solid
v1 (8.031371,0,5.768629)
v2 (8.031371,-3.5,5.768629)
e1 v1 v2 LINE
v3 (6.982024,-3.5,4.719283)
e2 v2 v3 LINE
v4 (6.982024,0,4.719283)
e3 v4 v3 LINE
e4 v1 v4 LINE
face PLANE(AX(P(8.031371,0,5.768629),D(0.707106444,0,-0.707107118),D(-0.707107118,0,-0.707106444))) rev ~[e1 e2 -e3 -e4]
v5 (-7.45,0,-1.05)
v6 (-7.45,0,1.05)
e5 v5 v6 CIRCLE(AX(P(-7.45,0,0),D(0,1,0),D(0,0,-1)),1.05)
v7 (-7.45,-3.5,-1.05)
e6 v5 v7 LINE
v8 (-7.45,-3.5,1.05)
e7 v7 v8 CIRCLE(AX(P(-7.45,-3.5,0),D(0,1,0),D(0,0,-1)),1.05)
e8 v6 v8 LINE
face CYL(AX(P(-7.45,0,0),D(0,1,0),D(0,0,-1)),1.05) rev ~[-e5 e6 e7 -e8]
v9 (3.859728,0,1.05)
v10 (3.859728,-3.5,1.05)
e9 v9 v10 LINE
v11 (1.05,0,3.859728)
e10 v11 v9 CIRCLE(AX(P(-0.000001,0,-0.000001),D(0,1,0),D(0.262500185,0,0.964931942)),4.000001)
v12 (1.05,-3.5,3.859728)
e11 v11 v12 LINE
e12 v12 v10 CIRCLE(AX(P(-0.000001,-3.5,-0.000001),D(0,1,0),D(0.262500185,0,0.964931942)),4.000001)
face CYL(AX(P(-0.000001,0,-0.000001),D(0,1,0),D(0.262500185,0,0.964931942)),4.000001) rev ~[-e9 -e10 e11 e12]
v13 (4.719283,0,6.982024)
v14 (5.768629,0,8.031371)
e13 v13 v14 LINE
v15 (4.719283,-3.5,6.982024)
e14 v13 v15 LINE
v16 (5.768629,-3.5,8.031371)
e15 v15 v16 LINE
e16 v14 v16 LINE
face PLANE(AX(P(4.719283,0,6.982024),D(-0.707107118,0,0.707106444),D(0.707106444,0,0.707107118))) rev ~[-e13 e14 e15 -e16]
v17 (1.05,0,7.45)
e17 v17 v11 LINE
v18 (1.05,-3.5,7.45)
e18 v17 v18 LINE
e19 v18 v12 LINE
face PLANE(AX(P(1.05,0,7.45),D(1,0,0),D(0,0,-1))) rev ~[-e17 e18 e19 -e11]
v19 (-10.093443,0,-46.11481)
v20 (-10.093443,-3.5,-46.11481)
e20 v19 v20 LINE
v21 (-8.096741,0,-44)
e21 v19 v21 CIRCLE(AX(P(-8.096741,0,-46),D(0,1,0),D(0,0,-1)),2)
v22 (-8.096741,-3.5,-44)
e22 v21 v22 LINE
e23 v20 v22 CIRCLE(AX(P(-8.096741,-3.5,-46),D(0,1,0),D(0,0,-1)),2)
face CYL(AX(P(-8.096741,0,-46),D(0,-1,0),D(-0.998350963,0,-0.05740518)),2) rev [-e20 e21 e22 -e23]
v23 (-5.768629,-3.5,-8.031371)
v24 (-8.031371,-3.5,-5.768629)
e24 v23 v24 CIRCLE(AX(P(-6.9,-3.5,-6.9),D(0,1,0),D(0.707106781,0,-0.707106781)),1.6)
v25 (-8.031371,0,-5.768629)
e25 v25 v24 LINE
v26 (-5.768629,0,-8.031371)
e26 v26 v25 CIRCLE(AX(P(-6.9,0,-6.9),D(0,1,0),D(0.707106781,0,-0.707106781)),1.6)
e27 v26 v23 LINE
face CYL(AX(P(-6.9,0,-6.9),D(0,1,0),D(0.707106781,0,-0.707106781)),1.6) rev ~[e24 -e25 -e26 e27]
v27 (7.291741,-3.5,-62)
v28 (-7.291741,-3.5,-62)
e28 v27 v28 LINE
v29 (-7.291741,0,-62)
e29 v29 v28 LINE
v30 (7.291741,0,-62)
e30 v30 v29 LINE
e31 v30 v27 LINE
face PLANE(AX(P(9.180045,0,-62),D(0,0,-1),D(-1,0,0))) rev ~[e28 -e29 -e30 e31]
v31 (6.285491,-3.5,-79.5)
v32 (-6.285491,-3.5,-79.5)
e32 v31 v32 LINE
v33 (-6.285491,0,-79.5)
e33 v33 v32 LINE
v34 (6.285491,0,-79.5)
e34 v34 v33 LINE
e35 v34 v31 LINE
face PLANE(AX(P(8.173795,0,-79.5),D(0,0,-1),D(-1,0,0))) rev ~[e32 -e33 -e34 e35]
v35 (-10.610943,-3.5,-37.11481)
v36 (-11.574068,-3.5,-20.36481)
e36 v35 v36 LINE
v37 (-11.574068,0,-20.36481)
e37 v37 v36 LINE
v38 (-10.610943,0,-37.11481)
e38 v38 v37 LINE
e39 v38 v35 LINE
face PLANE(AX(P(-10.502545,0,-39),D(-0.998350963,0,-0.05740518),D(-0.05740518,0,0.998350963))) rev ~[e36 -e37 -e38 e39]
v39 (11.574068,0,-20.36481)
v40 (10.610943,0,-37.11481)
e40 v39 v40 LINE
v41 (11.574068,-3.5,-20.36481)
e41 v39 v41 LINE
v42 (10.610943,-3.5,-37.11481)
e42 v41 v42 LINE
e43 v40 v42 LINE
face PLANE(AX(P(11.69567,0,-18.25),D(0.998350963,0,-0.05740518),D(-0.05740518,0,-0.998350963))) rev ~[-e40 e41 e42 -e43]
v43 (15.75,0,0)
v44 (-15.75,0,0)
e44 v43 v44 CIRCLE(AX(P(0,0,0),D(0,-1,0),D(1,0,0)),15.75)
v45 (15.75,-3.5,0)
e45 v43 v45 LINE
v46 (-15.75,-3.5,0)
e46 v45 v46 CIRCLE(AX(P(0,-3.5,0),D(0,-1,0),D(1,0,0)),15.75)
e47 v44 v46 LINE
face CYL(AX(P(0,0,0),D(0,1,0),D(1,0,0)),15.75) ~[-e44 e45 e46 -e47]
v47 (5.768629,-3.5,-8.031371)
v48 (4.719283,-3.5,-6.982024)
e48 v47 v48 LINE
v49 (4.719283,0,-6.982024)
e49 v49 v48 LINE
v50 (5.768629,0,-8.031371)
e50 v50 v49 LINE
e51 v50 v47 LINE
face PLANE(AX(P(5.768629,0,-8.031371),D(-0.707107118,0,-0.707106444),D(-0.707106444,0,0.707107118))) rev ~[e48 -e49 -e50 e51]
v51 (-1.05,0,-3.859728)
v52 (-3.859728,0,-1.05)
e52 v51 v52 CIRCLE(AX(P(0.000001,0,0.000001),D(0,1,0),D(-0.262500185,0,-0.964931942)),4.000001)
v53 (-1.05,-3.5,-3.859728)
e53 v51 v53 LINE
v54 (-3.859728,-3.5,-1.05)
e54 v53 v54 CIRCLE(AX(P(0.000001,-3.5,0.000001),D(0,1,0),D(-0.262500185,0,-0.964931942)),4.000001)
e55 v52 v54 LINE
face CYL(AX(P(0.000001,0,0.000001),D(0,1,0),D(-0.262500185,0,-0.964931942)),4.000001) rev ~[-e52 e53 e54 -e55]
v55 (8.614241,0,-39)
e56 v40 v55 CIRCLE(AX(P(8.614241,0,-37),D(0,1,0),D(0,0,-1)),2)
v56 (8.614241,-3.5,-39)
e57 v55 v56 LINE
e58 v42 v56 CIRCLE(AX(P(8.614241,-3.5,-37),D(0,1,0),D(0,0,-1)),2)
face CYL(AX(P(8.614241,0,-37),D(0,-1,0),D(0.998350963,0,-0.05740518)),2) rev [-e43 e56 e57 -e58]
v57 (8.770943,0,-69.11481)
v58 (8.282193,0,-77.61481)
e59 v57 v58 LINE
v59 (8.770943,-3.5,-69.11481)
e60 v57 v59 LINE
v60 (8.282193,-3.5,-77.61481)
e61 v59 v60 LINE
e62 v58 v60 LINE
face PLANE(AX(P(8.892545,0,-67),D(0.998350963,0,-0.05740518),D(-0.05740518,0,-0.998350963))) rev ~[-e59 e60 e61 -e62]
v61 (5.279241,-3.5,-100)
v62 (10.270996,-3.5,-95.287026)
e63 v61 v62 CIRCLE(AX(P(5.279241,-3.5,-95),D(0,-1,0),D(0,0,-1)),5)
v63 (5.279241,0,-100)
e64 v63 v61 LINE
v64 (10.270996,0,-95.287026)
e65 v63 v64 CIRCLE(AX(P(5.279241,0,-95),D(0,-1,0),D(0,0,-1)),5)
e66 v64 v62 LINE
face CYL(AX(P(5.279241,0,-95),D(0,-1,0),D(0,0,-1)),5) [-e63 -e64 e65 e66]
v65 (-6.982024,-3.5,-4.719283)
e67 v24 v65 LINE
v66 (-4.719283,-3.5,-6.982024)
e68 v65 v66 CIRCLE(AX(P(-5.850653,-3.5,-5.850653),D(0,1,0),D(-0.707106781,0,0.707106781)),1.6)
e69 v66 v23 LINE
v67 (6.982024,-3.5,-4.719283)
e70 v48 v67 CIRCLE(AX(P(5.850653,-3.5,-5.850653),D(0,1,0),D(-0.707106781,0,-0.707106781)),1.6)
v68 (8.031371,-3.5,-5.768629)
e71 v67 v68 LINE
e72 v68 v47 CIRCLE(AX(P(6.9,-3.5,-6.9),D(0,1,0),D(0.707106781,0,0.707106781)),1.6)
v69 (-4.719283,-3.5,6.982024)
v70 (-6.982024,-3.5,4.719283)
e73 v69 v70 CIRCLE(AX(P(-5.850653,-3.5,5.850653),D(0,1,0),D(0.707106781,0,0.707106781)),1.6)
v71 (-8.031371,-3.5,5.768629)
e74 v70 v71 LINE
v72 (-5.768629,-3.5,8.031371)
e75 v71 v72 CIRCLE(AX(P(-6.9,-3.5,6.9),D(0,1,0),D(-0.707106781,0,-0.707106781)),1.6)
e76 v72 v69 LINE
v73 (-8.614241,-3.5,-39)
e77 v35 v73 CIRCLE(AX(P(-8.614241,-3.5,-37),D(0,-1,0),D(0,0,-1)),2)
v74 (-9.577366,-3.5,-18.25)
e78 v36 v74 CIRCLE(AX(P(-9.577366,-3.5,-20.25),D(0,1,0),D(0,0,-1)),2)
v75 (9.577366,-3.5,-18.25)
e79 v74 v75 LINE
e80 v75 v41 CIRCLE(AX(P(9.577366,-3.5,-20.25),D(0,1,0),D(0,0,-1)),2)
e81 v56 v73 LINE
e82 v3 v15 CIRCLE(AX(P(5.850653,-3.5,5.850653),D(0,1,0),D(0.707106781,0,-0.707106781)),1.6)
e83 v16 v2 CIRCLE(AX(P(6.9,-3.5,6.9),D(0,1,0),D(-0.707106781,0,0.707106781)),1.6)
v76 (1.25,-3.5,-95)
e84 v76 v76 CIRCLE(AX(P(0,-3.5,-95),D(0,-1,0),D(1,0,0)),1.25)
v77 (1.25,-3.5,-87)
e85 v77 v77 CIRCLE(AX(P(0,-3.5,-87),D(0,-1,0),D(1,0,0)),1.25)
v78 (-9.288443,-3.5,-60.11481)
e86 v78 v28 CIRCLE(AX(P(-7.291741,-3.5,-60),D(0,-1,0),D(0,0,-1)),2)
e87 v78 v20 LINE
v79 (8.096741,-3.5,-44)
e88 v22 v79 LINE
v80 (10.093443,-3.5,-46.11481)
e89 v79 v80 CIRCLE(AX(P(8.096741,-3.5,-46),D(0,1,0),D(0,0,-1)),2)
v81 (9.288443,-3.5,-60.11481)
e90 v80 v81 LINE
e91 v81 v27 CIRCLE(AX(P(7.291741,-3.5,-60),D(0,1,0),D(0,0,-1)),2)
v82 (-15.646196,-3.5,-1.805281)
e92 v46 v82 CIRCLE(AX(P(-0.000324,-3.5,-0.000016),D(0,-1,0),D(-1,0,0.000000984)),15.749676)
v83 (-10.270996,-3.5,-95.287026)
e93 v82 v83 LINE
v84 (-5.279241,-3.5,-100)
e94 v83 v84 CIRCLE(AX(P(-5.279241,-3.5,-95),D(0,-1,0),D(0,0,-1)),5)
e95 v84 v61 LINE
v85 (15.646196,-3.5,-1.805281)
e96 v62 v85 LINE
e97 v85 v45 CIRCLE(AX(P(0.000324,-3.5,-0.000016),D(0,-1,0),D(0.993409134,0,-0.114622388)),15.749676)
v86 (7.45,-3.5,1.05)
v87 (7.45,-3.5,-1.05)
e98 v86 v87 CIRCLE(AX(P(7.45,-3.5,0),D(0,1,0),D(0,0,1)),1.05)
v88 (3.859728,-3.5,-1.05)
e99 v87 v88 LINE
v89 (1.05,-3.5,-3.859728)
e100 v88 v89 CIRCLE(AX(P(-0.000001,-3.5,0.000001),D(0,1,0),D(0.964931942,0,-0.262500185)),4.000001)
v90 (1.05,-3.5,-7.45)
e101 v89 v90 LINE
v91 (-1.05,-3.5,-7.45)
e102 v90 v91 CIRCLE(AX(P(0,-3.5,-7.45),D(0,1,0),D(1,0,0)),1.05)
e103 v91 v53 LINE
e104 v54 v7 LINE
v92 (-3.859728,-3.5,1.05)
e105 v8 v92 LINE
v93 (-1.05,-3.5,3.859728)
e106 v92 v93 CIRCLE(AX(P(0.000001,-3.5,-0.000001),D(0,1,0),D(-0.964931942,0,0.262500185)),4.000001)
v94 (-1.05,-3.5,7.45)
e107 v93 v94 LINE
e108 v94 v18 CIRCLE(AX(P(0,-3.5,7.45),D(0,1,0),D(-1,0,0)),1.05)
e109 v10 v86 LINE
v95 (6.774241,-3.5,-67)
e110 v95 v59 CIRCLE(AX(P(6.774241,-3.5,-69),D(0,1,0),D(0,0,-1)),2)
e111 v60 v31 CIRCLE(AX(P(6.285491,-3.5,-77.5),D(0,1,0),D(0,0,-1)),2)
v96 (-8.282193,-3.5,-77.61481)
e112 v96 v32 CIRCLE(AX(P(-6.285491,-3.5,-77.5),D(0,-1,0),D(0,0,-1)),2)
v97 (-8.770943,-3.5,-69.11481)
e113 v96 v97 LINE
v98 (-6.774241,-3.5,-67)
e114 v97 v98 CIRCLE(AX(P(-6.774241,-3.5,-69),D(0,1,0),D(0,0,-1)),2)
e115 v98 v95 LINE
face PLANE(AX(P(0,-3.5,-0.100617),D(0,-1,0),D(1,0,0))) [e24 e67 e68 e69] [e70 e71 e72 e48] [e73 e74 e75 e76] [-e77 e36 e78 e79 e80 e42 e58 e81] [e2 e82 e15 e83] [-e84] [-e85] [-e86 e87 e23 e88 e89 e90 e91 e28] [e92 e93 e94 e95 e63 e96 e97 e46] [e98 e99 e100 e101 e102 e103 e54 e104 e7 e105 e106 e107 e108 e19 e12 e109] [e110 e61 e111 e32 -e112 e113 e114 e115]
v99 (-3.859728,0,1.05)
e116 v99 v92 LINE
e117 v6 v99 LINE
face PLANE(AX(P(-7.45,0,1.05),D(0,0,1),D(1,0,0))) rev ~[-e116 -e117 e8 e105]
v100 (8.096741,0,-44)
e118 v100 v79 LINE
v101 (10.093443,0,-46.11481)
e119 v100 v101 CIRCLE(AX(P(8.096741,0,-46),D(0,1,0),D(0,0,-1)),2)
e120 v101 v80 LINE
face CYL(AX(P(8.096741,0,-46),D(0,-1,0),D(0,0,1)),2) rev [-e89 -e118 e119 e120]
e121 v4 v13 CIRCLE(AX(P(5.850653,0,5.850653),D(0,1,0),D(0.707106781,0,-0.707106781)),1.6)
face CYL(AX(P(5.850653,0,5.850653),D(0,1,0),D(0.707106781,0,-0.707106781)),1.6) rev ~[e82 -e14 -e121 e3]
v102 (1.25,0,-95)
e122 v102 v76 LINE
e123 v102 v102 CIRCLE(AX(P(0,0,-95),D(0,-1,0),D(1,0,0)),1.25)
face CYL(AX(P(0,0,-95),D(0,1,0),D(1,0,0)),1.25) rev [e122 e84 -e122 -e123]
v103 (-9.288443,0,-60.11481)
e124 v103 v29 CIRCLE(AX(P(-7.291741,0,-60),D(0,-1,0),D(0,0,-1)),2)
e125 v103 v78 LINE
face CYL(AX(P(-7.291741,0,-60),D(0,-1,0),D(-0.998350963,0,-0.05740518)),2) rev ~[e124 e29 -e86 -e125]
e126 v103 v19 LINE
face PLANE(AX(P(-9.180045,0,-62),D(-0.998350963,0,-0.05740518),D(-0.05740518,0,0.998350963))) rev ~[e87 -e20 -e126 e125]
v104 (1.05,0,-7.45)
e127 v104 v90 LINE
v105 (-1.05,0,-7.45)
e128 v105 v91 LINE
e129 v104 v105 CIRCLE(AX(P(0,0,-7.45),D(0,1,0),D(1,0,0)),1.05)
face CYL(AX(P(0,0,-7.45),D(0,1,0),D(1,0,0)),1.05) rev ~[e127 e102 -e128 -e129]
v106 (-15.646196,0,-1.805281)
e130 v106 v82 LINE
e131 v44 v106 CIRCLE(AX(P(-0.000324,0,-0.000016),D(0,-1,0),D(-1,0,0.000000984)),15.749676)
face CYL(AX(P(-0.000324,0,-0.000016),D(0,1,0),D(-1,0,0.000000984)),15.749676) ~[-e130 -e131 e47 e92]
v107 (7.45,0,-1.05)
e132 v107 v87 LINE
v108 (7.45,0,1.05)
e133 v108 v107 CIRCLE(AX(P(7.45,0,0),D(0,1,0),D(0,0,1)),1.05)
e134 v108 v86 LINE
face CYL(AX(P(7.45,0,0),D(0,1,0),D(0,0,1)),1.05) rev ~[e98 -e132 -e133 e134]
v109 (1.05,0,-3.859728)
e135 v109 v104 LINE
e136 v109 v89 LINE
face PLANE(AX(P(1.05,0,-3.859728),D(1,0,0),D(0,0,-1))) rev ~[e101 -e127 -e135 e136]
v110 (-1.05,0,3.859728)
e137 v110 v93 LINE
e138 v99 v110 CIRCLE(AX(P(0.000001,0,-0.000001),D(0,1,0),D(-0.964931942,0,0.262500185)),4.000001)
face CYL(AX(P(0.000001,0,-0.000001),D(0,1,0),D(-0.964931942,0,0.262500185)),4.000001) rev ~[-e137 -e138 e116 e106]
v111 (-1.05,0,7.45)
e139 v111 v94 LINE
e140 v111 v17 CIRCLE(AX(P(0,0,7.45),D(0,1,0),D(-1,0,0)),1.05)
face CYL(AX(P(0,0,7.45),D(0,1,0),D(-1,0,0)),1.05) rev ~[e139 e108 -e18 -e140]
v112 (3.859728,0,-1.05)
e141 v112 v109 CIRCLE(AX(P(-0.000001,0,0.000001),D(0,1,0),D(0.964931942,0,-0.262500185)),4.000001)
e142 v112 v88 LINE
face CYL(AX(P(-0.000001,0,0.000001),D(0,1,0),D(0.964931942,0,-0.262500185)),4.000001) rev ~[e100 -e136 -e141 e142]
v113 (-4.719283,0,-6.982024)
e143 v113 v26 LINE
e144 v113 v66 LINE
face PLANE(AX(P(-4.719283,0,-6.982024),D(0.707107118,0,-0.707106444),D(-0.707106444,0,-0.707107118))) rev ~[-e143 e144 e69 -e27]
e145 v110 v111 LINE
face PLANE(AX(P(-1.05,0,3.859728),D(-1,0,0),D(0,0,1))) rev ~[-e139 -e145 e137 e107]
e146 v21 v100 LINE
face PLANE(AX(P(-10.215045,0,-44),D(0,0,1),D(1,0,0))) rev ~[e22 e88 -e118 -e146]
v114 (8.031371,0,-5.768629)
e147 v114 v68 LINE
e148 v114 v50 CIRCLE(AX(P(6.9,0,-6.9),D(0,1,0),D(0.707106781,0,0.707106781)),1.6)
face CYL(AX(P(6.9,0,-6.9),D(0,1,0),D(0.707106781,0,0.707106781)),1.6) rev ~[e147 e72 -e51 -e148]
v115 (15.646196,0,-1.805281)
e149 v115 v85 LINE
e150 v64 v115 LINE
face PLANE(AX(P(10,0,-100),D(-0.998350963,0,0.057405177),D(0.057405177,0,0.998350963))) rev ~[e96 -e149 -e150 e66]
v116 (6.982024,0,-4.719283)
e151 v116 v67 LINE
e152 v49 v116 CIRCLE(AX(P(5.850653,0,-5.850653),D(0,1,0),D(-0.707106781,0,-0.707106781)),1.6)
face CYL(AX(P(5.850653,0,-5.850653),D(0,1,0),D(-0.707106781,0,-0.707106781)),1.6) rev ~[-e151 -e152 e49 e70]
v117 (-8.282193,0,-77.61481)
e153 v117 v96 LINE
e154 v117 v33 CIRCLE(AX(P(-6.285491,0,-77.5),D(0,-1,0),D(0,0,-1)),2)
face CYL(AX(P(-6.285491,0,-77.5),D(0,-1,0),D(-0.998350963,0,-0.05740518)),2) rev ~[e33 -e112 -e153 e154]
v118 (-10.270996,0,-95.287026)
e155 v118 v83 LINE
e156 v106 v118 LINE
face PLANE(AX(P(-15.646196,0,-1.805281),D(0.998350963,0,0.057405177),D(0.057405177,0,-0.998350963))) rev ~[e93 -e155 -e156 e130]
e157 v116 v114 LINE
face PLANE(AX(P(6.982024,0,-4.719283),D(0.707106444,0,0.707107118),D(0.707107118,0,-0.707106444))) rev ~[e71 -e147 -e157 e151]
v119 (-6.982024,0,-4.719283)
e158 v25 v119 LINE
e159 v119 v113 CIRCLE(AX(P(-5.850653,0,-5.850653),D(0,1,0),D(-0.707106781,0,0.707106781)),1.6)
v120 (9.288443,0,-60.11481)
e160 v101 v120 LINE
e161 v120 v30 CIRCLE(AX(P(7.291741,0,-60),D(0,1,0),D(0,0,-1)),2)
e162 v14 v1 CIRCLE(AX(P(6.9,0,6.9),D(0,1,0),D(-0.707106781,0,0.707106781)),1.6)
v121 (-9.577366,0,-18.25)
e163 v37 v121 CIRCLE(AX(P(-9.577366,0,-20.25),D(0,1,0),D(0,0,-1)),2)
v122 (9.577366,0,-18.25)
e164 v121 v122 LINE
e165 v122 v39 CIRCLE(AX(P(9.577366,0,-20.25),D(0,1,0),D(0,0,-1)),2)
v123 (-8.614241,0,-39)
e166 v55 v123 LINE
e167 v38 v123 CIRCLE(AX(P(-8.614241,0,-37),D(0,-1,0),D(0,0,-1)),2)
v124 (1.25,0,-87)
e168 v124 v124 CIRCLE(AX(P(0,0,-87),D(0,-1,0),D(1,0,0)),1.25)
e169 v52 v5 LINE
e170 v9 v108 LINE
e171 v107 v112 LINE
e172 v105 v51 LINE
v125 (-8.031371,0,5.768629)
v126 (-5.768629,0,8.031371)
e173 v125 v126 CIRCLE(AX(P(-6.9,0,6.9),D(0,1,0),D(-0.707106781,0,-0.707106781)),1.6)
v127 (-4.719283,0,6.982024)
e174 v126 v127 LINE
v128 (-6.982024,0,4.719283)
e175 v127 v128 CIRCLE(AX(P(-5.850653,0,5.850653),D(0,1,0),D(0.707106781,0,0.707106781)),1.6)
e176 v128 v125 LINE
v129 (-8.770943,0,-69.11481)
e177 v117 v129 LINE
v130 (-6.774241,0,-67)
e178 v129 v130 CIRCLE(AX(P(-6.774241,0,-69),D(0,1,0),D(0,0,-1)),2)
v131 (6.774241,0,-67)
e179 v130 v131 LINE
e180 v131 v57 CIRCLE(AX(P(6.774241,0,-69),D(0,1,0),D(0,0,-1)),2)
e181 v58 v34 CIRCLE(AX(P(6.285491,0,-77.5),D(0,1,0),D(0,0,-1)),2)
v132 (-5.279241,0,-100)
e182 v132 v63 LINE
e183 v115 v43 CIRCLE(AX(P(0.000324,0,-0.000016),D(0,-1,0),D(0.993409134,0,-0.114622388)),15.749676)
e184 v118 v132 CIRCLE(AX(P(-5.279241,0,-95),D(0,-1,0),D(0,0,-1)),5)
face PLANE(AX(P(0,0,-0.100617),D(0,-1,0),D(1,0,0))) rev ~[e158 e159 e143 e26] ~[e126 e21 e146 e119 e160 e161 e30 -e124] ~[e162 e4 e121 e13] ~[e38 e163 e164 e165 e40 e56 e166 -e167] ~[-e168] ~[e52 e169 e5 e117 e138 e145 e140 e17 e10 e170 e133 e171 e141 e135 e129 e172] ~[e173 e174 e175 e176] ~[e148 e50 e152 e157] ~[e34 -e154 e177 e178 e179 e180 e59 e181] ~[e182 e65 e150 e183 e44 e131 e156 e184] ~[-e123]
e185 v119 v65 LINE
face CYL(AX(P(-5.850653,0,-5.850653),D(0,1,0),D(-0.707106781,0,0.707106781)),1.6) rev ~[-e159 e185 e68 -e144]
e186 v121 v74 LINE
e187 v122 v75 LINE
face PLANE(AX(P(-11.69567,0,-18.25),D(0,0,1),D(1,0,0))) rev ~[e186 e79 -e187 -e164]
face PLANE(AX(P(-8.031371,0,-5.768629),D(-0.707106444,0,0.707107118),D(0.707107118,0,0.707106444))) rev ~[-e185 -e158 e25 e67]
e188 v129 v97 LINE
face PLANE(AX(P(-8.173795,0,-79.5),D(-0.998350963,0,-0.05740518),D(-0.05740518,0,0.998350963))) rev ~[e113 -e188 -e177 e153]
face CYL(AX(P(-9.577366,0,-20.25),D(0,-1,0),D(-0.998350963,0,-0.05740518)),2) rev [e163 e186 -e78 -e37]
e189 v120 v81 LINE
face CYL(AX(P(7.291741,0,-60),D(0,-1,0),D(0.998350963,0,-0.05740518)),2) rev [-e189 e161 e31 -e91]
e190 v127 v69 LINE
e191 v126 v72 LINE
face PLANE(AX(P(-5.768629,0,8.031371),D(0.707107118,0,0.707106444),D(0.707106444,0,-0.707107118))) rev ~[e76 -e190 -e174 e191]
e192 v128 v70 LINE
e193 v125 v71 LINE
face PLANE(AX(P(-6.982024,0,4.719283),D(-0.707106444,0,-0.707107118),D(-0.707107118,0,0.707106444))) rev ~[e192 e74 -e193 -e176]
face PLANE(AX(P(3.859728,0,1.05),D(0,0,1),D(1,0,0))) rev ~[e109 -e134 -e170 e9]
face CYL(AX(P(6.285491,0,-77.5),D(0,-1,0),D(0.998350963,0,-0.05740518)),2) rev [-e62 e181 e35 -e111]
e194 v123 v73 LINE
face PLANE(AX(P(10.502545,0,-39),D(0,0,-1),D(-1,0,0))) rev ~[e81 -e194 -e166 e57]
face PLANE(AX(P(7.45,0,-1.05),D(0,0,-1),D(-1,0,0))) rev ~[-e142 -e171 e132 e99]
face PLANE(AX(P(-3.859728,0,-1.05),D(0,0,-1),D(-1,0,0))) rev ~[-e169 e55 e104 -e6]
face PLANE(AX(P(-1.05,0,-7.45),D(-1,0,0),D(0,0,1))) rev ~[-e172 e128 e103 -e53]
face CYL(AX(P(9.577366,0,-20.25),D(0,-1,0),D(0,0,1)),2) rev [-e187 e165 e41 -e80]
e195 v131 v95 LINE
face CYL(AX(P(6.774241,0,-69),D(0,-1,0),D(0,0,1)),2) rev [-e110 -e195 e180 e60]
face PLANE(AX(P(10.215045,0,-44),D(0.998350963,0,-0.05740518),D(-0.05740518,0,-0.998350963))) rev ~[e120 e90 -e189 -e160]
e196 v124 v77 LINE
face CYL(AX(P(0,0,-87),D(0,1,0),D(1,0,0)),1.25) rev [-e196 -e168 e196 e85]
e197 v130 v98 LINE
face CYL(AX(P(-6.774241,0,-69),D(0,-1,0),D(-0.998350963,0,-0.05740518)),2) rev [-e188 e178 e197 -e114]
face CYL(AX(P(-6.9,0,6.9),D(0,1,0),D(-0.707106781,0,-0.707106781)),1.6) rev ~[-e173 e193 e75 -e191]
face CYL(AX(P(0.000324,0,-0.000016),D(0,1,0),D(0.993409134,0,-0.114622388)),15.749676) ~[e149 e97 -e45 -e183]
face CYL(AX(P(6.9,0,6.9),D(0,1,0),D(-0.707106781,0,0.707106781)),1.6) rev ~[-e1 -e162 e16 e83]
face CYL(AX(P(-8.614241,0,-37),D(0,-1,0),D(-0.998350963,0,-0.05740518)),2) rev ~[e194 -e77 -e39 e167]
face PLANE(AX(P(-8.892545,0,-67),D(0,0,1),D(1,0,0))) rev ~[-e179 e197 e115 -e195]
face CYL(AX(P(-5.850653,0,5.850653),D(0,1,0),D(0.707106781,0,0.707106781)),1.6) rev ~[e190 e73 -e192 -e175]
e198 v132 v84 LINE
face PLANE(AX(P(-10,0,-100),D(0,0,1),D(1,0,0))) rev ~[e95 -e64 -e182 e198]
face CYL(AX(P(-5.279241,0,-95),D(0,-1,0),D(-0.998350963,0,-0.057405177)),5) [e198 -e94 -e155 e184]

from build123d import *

# Parameters (mm, degrees)
F0_R     = 1.25
F1_DEPTH = 3.5
F2_R     = 5
F3_R     = 2


with BuildPart() as f1:
    # F0 (on Front) → F1 (new body)
    with BuildSketch(Plane.XZ):
        with BuildLine():
            Line((15.646196, -1.805281), (15.75, 0))
            ThreePointArc((15.75, 0), (0, 15.75), (-15.75, 0))
            Line((-15.75, 0), (-15.646196, -1.805281))
            ThreePointArc((-15.646196, -1.805281), (0, -15.75), (15.646196, -1.805281))
        make_face()
        with BuildLine():
            ThreePointArc((-5.768629, -8.031371), (-8.031371, -8.031371), (-8.031371, -5.768629))
            Line((-8.031371, -5.768629), (-6.982024, -4.719283))
            ThreePointArc((-6.982024, -4.719283), (-4.719283, -4.719283), (-4.719283, -6.982024))
            Line((-4.719283, -6.982024), (-5.768629, -8.031371))
        make_face(mode=Mode.SUBTRACT)
        with BuildLine():
            ThreePointArc((-8.031371, 5.768629), (-8.031371, 8.031371), (-5.768629, 8.031371))
            Line((-5.768629, 8.031371), (-4.719283, 6.982024))
            ThreePointArc((-4.719283, 6.982024), (-4.719283, 4.719283), (-6.982024, 4.719283))
            Line((-6.982024, 4.719283), (-8.031371, 5.768629))
        make_face(mode=Mode.SUBTRACT)
        with BuildLine():
            Line((3.859728, 1.05), (7.45, 1.05))
            ThreePointArc((7.45, 1.05), (8.5, 0), (7.45, -1.05))
            Line((7.45, -1.05), (3.859728, -1.05))
            ThreePointArc((3.859728, -1.05), (2.828427, -2.828427), (1.05, -3.859728))
            Line((1.05, -3.859728), (1.05, -7.45))
            ThreePointArc((1.05, -7.45), (0, -8.5), (-1.05, -7.45))
            Line((-1.05, -7.45), (-1.05, -3.859728))
            ThreePointArc((-1.05, -3.859728), (-2.828427, -2.828427), (-3.859728, -1.05))
            Line((-3.859728, -1.05), (-7.45, -1.05))
            ThreePointArc((-7.45, -1.05), (-8.5, 0), (-7.45, 1.05))
            Line((-7.45, 1.05), (-3.859728, 1.05))
            ThreePointArc((-3.859728, 1.05), (-2.828427, 2.828427), (-1.05, 3.859728))
            Line((-1.05, 3.859728), (-1.05, 7.45))
            ThreePointArc((-1.05, 7.45), (0, 8.5), (1.05, 7.45))
            Line((1.05, 7.45), (1.05, 3.859728))
            ThreePointArc((1.05, 3.859728), (2.828427, 2.828427), (3.859728, 1.05))
        make_face(mode=Mode.SUBTRACT)
        with BuildLine():
            ThreePointArc((8.031371, -5.768629), (8.031371, -8.031371), (5.768629, -8.031371))
            Line((5.768629, -8.031371), (4.719283, -6.982024))
            ThreePointArc((4.719283, -6.982024), (4.719283, -4.719283), (6.982024, -4.719283))
            Line((6.982024, -4.719283), (8.031371, -5.768629))
        make_face(mode=Mode.SUBTRACT)
        with BuildLine():
            ThreePointArc((6.982024, 4.719283), (4.719283, 4.719283), (4.719283, 6.982024))
            Line((4.719283, 6.982024), (5.768629, 8.031371))
            ThreePointArc((5.768629, 8.031371), (8.031371, 8.031371), (8.031371, 5.768629))
            Line((8.031371, 5.768629), (6.982024, 4.719283))
        make_face(mode=Mode.SUBTRACT)
        with BuildLine():
            ThreePointArc((15.646196, -1.805281), (15.724028, -0.904132), (15.75, 0))
            Line((15.75, 0), (15.646196, -1.805281))
        make_face()
        with BuildLine():
            Line((-15.646196, -1.805281), (-15.75, 0))
            ThreePointArc((-15.75, 0), (-15.724028, -0.904132), (-15.646196, -1.805281))
        make_face()
        with BuildLine():
            Line((10, -100), (15.646196, -1.805281))
            ThreePointArc((15.646196, -1.805281), (0, -15.75), (-15.646196, -1.805281))
            Line((-15.646196, -1.805281), (-10, -100))
            Line((-10, -100), (0, -100))
            Line((0, -100), (10, -100))
        make_face()
        with Locations((0, -95)):
            Circle(F0_R, mode=Mode.SUBTRACT)
        with Locations((0, -87)):
            Circle(F0_R, mode=Mode.SUBTRACT)
        Polygon((-8.892545, -67), (0, -67), (8.892545, -67), (8.173795, -79.5), (0, -79.5), (-8.173795, -79.5), align=None, mode=Mode.SUBTRACT)
        Polygon((-10.215045, -44), (0, -44), (10.215045, -44), (9.180045, -62), (0, -62), (-9.180045, -62), align=None, mode=Mode.SUBTRACT)
        Polygon((-11.69567, -18.25), (0, -18.25), (11.69567, -18.25), (10.502545, -39), (0, -39), (-10.502545, -39), align=None, mode=Mode.SUBTRACT)
    extrude(amount=F1_DEPTH)

    # F2
    f2_edges = [f1.edges().sort_by_distance(p)[0] for p in [
        (-10, -1.75, -100),
        (10, -1.75, -100),
    ]]
    fillet(f2_edges, radius=F2_R)

    # F3
    f3_edges = [f1.edges().sort_by_distance(p)[0] for p in [
        (-10.502545, -1.75, -39),
        (-9.180045, -1.75, -62),
        (-8.173795, -1.75, -79.5),
        (-8.892545, -1.75, -67),
        (-10.215045, -1.75, -44),
        (-11.69567, -1.75, -18.25),
        (11.69567, -1.75, -18.25),
        (10.215045, -1.75, -44),
        (8.892545, -1.75, -67),
        (10.502545, -1.75, -39),
        (9.180045, -1.75, -62),
        (8.173795, -1.75, -79.5),
    ]]
    fillet(f3_edges, radius=F3_R)


solid = f1.part
